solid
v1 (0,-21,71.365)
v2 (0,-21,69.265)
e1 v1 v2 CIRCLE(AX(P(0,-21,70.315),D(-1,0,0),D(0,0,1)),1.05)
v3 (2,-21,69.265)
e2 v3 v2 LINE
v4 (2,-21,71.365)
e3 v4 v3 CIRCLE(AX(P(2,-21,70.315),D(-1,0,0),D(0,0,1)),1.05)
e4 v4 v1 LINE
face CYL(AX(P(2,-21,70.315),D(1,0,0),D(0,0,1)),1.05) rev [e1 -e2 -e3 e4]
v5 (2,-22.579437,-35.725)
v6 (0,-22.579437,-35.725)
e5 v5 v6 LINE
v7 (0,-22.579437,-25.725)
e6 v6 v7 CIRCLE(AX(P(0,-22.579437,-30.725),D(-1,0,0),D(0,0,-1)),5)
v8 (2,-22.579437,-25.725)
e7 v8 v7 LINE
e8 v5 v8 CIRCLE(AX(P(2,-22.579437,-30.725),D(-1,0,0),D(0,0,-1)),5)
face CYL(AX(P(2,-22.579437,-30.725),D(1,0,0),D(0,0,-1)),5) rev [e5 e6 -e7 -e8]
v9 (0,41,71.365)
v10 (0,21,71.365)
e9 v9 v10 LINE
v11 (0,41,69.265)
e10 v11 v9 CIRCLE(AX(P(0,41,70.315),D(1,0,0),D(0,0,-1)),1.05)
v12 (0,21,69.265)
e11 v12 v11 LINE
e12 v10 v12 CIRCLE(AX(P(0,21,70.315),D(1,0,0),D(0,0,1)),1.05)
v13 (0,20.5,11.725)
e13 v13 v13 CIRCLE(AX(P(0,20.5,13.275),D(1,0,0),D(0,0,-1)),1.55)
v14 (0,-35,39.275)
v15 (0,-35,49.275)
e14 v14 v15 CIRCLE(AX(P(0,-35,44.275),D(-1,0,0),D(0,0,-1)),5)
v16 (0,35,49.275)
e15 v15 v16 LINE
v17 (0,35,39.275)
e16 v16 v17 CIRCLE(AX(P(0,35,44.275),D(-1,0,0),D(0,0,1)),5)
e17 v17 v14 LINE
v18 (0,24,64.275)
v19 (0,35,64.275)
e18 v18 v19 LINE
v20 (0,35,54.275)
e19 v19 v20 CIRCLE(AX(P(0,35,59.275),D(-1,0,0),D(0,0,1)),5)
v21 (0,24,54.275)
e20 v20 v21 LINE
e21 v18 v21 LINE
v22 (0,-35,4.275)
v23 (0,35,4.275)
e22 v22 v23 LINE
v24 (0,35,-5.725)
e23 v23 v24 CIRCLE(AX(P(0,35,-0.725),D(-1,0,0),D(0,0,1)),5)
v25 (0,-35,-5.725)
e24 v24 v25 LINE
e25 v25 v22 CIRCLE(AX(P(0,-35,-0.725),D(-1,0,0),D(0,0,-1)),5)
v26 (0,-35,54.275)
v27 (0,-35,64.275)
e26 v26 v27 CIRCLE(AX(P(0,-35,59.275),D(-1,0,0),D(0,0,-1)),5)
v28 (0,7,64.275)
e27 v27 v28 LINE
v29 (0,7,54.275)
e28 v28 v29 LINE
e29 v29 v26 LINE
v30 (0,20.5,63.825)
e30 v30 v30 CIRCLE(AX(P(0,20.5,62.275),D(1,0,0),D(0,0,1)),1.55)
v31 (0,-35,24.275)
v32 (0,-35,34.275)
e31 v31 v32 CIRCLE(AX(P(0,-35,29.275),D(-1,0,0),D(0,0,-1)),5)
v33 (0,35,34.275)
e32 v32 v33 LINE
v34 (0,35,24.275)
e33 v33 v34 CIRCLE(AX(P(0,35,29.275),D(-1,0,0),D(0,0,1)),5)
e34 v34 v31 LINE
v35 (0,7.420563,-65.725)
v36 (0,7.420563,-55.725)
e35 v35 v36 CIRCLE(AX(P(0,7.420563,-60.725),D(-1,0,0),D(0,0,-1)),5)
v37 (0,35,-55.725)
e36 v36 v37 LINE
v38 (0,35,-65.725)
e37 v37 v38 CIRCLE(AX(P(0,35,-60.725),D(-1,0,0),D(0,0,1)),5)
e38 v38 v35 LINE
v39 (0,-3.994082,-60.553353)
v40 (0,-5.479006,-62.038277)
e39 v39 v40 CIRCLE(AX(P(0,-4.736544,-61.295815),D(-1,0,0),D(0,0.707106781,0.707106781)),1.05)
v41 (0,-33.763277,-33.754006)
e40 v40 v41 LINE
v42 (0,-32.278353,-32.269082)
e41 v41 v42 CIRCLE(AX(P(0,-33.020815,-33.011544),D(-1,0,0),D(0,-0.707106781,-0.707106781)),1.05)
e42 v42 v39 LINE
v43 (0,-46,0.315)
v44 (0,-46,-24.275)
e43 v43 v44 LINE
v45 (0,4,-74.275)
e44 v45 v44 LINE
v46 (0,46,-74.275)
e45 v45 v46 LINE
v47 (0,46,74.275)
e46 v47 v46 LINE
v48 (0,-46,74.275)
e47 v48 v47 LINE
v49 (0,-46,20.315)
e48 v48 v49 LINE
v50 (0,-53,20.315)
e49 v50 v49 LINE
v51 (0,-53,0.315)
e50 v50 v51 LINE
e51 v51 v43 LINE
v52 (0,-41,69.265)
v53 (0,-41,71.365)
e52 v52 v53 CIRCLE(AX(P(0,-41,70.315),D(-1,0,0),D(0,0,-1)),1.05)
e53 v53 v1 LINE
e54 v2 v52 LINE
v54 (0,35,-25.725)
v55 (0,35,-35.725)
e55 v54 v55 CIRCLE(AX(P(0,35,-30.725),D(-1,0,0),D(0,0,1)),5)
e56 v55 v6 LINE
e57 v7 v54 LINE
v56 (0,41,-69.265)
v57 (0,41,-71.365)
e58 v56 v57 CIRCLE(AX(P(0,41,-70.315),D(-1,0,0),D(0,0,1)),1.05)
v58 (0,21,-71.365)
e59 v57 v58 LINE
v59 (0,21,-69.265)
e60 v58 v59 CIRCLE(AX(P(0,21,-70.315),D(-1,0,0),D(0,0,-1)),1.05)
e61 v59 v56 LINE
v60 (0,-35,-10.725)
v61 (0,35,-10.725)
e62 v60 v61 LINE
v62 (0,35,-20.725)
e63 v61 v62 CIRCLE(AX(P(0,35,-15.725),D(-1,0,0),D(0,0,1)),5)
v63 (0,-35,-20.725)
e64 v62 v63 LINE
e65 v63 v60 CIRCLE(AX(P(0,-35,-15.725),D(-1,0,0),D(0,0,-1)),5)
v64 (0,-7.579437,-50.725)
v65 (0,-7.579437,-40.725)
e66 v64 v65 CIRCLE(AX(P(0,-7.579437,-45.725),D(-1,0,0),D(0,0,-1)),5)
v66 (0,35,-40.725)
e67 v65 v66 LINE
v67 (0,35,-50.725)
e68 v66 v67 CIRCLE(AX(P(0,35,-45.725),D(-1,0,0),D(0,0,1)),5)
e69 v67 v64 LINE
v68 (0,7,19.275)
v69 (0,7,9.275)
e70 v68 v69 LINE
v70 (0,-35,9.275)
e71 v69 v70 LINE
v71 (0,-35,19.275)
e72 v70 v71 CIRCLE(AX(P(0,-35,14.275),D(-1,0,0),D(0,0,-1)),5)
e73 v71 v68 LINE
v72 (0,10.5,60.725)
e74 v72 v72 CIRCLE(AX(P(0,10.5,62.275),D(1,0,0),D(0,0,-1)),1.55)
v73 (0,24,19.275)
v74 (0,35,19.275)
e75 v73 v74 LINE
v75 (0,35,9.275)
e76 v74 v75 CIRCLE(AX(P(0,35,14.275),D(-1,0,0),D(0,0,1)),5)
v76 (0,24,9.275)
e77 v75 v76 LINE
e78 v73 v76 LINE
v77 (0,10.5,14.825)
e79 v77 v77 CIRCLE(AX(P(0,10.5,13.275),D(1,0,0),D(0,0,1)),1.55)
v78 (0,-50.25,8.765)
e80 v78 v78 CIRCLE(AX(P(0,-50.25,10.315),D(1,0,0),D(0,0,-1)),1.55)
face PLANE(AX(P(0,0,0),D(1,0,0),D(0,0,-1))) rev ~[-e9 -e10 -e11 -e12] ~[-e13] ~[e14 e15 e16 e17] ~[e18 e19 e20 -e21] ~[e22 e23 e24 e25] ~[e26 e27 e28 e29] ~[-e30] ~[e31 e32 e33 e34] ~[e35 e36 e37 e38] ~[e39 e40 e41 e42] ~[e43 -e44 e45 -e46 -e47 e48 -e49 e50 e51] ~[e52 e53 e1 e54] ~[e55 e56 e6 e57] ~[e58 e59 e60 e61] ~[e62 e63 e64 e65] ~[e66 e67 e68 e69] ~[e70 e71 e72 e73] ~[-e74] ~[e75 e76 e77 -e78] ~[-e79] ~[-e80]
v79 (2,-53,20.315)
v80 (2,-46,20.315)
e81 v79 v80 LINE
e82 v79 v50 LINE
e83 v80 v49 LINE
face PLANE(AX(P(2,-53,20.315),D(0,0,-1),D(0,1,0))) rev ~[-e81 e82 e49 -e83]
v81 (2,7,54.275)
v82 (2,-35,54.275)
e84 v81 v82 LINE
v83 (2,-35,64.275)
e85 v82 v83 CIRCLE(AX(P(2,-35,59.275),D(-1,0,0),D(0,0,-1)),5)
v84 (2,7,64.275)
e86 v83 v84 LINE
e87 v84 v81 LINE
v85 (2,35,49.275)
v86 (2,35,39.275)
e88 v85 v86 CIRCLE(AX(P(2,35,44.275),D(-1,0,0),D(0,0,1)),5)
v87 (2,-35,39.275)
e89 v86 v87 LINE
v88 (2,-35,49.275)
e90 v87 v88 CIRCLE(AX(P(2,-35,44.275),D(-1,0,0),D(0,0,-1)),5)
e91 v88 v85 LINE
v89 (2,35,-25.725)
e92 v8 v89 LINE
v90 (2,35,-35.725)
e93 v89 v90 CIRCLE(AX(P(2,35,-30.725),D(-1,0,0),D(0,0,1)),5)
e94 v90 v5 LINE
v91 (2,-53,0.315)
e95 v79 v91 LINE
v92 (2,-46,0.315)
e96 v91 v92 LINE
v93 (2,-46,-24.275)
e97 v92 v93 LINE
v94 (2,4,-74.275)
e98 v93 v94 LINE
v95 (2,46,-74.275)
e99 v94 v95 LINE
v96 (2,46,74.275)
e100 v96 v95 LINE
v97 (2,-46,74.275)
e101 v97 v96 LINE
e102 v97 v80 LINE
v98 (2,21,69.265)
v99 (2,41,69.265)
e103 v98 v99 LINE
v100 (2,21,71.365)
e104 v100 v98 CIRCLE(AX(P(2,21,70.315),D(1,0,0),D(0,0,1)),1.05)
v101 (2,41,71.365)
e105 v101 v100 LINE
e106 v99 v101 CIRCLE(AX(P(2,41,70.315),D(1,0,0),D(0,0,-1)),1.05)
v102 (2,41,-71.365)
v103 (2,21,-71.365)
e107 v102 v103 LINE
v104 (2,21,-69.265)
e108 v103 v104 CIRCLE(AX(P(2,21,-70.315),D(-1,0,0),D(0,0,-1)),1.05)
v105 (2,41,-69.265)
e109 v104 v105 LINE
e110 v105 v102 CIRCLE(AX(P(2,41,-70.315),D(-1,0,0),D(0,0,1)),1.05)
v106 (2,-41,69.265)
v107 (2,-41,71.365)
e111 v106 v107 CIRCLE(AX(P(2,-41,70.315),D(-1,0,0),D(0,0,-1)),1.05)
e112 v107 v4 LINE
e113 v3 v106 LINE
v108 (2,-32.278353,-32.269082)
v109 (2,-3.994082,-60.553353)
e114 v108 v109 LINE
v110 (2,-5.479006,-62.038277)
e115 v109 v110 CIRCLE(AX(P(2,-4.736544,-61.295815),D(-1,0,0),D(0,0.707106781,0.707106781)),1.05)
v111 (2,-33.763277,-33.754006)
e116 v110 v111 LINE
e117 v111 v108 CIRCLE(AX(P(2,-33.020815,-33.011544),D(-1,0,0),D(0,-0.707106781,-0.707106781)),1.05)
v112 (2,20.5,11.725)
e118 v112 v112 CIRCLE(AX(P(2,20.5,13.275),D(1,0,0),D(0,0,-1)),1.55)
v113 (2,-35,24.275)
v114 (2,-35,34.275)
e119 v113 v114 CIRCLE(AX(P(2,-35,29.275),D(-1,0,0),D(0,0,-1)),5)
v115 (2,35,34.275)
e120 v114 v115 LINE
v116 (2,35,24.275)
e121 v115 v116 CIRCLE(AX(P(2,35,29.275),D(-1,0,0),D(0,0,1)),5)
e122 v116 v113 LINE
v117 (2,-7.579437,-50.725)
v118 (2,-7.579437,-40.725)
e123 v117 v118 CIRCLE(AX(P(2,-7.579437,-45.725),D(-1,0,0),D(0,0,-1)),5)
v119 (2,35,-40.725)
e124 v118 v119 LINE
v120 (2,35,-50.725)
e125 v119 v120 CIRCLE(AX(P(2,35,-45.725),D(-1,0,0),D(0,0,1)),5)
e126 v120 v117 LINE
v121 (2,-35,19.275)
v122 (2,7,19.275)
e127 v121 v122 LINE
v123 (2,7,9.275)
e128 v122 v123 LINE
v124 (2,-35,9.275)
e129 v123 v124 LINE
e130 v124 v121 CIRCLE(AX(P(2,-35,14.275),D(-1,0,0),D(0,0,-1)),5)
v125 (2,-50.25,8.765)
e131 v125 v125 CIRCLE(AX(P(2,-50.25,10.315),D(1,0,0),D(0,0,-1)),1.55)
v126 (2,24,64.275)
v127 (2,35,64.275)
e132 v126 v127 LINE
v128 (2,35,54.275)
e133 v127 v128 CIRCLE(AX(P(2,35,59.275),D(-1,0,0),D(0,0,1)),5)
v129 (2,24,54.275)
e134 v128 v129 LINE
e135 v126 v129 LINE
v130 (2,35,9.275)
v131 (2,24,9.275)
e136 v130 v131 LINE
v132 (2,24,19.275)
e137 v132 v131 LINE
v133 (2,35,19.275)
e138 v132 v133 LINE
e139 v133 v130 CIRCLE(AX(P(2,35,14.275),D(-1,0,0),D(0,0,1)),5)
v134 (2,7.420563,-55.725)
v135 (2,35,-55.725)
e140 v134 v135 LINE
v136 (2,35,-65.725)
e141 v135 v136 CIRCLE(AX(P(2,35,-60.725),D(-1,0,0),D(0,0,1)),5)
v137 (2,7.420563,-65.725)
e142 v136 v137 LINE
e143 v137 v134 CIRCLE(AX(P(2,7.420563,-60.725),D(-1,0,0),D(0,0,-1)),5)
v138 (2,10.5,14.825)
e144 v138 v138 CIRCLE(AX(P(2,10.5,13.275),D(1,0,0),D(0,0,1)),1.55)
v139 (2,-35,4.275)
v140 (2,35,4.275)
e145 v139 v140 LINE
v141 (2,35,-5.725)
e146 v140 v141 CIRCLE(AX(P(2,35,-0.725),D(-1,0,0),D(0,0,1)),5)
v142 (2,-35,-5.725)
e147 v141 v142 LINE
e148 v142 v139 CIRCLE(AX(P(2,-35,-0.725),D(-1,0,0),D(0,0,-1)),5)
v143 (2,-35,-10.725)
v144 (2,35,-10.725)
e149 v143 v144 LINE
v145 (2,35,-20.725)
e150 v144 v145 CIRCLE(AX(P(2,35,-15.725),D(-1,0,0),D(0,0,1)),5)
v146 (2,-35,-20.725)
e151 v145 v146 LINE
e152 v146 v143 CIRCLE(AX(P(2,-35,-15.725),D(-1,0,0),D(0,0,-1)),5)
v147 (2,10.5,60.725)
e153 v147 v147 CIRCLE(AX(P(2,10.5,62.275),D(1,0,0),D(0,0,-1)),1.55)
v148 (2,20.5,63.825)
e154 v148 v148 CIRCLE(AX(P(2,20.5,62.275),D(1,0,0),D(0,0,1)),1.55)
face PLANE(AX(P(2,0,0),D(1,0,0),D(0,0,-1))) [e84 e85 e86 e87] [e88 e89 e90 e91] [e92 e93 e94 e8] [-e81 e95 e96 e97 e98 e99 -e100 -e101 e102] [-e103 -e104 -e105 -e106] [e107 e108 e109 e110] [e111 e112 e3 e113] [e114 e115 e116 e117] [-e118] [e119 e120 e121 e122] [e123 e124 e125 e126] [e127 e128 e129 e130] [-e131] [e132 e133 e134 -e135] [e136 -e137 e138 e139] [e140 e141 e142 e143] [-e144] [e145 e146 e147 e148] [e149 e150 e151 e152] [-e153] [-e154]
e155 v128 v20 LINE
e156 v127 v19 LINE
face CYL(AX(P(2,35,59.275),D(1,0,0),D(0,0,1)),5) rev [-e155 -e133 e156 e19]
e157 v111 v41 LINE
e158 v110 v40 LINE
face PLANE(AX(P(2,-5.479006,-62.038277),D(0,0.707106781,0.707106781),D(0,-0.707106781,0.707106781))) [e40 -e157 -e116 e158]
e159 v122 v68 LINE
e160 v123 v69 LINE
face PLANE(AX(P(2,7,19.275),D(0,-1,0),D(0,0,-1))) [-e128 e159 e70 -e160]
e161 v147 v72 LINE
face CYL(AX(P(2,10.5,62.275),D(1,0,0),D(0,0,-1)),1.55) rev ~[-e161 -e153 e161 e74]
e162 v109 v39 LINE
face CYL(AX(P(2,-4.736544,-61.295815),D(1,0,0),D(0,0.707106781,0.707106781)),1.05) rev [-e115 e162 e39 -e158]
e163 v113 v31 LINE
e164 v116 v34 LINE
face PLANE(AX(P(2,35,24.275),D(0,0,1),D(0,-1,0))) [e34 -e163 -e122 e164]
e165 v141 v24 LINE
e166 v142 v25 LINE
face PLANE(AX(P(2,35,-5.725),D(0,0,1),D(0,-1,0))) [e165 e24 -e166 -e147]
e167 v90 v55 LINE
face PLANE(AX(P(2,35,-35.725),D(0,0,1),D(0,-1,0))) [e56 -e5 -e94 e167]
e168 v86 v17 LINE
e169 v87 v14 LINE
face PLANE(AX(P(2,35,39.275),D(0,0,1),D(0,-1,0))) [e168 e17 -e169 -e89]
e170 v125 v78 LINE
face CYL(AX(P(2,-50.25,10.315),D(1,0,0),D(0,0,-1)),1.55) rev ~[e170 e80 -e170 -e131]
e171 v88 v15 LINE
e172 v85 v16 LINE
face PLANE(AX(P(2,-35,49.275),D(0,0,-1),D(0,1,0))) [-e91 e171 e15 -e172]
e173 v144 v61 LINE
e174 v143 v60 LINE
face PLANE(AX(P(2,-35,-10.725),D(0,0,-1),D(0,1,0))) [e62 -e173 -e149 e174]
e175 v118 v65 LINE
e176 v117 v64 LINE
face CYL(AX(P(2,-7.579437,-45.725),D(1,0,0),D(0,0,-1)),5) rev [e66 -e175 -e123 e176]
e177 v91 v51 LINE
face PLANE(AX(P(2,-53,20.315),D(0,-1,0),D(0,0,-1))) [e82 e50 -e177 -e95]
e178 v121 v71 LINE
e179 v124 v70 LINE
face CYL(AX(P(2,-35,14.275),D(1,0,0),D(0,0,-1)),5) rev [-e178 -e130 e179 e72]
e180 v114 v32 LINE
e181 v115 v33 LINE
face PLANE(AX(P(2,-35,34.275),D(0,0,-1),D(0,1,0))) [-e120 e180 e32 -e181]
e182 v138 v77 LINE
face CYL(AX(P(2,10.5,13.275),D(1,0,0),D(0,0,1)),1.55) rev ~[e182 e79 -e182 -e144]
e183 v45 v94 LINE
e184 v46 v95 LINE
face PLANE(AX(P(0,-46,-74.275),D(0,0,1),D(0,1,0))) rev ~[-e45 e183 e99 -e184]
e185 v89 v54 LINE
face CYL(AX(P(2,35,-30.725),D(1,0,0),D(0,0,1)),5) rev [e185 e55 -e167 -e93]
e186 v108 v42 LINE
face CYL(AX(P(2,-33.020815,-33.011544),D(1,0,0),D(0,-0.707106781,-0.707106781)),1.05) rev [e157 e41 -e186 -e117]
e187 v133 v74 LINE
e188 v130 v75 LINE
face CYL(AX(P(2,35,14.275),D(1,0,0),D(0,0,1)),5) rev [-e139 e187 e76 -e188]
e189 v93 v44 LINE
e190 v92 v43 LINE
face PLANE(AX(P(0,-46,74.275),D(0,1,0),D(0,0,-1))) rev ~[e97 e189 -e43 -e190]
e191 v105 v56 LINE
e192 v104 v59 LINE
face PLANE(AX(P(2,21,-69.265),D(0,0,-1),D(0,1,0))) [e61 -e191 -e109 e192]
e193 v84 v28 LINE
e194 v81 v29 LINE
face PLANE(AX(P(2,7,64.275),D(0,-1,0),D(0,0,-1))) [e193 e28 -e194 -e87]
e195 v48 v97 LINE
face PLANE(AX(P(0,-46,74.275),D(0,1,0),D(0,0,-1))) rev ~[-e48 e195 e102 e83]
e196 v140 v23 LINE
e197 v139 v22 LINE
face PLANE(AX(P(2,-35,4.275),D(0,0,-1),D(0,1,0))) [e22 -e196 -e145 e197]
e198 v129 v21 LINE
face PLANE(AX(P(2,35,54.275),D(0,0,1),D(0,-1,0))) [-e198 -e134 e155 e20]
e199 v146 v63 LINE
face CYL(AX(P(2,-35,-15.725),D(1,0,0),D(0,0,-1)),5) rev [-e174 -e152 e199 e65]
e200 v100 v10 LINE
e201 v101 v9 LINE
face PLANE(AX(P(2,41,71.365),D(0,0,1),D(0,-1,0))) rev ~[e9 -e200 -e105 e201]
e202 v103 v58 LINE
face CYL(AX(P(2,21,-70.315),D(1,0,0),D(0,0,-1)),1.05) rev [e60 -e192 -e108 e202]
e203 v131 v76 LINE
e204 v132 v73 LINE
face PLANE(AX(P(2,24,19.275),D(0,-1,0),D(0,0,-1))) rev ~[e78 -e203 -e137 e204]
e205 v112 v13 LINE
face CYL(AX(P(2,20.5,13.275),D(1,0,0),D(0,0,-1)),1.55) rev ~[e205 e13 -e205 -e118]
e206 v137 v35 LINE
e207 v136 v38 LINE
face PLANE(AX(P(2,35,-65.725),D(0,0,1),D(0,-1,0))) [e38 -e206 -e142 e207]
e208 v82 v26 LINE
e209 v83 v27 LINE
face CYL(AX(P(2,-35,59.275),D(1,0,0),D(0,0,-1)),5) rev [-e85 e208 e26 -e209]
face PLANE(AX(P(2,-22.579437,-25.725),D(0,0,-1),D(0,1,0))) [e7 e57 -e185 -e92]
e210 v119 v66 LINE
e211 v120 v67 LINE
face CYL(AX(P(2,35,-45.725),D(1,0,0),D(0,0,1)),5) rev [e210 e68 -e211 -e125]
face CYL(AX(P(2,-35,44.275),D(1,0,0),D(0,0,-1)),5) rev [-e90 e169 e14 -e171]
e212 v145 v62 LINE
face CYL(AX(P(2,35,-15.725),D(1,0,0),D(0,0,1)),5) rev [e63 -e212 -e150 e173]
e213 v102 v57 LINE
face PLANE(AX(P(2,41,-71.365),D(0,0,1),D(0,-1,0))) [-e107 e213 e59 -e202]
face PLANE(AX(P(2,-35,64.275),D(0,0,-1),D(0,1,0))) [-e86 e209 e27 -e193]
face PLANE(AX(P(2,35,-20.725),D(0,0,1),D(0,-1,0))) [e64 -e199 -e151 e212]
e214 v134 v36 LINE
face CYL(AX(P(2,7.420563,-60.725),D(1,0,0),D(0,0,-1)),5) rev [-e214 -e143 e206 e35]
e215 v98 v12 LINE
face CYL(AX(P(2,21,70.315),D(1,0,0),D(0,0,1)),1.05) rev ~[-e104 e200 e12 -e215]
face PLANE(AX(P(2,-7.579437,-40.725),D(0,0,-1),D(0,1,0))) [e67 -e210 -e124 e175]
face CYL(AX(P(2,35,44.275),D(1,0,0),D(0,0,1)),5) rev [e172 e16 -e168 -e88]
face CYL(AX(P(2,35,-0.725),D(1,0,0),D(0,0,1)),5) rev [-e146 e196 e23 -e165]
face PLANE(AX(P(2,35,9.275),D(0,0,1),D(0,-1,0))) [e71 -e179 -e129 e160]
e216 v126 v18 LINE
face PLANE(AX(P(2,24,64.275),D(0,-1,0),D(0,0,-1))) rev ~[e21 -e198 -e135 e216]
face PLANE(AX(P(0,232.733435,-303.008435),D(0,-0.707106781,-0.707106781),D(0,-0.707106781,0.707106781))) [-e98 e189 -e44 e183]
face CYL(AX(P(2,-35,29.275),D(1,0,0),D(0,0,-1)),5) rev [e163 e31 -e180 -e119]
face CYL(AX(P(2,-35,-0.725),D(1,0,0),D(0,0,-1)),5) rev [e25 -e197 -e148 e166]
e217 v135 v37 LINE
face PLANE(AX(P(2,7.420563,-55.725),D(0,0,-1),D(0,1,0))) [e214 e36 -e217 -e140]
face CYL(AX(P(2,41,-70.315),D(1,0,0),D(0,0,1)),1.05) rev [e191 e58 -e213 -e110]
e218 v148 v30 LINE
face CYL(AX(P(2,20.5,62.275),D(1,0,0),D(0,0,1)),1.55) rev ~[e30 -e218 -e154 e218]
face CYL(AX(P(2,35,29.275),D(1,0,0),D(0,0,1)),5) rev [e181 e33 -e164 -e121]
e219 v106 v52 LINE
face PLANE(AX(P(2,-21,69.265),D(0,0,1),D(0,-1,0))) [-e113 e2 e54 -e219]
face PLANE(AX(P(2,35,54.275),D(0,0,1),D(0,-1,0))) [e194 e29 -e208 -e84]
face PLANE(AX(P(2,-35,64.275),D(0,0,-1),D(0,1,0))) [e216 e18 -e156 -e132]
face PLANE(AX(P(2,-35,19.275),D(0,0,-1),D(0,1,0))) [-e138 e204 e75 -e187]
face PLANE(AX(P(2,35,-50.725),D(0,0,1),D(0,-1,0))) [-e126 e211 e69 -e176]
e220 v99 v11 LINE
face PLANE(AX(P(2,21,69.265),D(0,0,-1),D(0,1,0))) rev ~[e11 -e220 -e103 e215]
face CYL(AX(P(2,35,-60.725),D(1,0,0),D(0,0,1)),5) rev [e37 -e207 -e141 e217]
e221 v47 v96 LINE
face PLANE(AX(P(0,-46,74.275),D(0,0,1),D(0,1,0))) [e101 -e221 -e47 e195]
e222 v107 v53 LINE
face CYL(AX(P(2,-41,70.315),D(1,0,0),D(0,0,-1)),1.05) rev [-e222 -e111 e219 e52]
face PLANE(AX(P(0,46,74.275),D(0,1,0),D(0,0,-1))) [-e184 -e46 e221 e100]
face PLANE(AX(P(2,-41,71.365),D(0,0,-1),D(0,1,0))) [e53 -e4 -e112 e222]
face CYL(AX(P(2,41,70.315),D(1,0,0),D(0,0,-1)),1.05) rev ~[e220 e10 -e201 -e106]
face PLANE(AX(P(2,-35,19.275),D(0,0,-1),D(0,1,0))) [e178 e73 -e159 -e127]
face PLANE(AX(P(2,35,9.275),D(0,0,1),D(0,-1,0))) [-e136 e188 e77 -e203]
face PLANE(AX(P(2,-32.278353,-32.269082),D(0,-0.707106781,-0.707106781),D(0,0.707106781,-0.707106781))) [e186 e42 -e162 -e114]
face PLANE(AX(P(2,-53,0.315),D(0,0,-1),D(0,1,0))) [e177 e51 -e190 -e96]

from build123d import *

# Parameters (mm, degrees)
SKETCH_2_W               = 148.55
SKETCH_2_H               = 92
EXTRUDE_1_DEPTH          = 2
CUT_EXTRUDE_1_DEPTH      = 88.388647003
CUT_EXTRUDE_1_DEPTH_BACK = 2
CUT_EXTRUDE_2_DEPTH      = 2
SKETCH_5_W               = 20
SKETCH_5_H               = 7
SKETCH_5_R               = 1.55
EXTRUDE_2_DEPTH          = 2
CUT_EXTRUDE_3_DEPTH      = 2
SKETCH_8_W               = 10
SKETCH_8_H               = 17
EXTRUDE_3_DEPTH          = 2
SKETCH_7_R               = 1.55
CUT_EXTRUDE_4_DEPTH      = 2
CUT_EXTRUDE_5_DEPTH      = 2


with BuildPart() as part:
    # 草图2 → 凸台-拉伸1 (new body)
    with BuildSketch(Plane(origin=(0, 0, 0), x_dir=(0, 0, -1), z_dir=(1, 0, 0))):
        Rectangle(SKETCH_2_W, SKETCH_2_H)
    extrude(amount=EXTRUDE_1_DEPTH)

    # 草图3 → 切除-拉伸1 (cut, two sides: drawn at the far end of the back side and taken through both)
    with BuildSketch(Plane(origin=(2, 0, 0), x_dir=(0, 0, -1), z_dir=(1, 0, 0)).offset(-CUT_EXTRUDE_1_DEPTH_BACK)):
        Polygon((-204.458434938, -274.733434938), (24.275, -46), (74.275, 4), (303.008434938, 232.733434938), (760.475304814, -224.733434938), (253.008434938, -732.200304814), align=None)
    extrude(amount=CUT_EXTRUDE_1_DEPTH + CUT_EXTRUDE_1_DEPTH_BACK, mode=Mode.SUBTRACT)

    # 草图4 → 切除-拉伸2 (cut)
    with BuildSketch(Plane(origin=(2, 0, 0), x_dir=(0, 0, -1), z_dir=(1, 0, 0))):
        with BuildLine():
            Line((-71.365, -41), (-71.365, -21))
            ThreePointArc((-71.365, -21), (-70.315, -19.95), (-69.265, -21))
            Line((-69.265, -21), (-69.265, -41))
            ThreePointArc((-69.265, -41), (-70.315, -42.05), (-71.365, -41))
        make_face()
        with BuildLine():
            Line((-71.365, 41), (-71.365, 21))
            ThreePointArc((-71.365, 21), (-70.315, 19.95), (-69.265, 21))
            Line((-69.265, 21), (-69.265, 41))
            ThreePointArc((-69.265, 41), (-70.315, 42.05), (-71.365, 41))
        make_face()
        with BuildLine():
            Line((71.365, 41), (71.365, 21))
            ThreePointArc((71.365, 21), (70.315, 19.95), (69.265, 21))
            Line((69.265, 21), (69.265, 41))
            ThreePointArc((69.265, 41), (70.315, 42.05), (71.365, 41))
        make_face()
    extrude(amount=-CUT_EXTRUDE_2_DEPTH, mode=Mode.SUBTRACT)

    # 草图5 → 凸台-拉伸2 (add)
    with BuildSketch(Plane(origin=(2, 0, 0), x_dir=(0, 0, -1), z_dir=(1, 0, 0))):
        with Locations((-10.315, -49.5)):
            Rectangle(SKETCH_5_W, SKETCH_5_H)
        with Locations((-10.315, -50.25)):
            Circle(SKETCH_5_R, mode=Mode.SUBTRACT)
    extrude(amount=-EXTRUDE_2_DEPTH)

    # 草图6 → 切除-拉伸3 (cut)
    with BuildSketch(Plane(origin=(2, 0, 0), x_dir=(0, 0, -1), z_dir=(1, 0, 0))):
        with BuildLine():
            Line((-64.275, -35), (-64.275, 35))
            ThreePointArc((-64.275, 35), (-59.275, 40), (-54.275, 35))
            Line((-54.275, 35), (-54.275, -35))
            ThreePointArc((-54.275, -35), (-59.275, -40), (-64.275, -35))
        make_face()
        with BuildLine():
            Line((-49.275, -35), (-49.275, 35))
            ThreePointArc((-49.275, 35), (-44.275, 40), (-39.275, 35))
            Line((-39.275, 35), (-39.275, -35))
            ThreePointArc((-39.275, -35), (-44.275, -40), (-49.275, -35))
        make_face()
        with BuildLine():
            Line((-34.275, -35), (-34.275, 35))
            ThreePointArc((-34.275, 35), (-29.275, 40), (-24.275, 35))
            Line((-24.275, 35), (-24.275, -35))
            ThreePointArc((-24.275, -35), (-29.275, -40), (-34.275, -35))
        make_face()
        with BuildLine():
            Line((-19.275, -35), (-19.275, 35))
            ThreePointArc((-19.275, 35), (-14.275, 40), (-9.275, 35))
            Line((-9.275, 35), (-9.275, -35))
            ThreePointArc((-9.275, -35), (-14.275, -40), (-19.275, -35))
        make_face()
        with BuildLine():
            Line((-4.275, -35), (-4.275, 35))
            ThreePointArc((-4.275, 35), (0.725, 40), (5.725, 35))
            Line((5.725, 35), (5.725, -35))
            ThreePointArc((5.725, -35), (0.725, -40), (-4.275, -35))
        make_face()
        with BuildLine():
            Line((10.725, -35), (10.725, 35))
            ThreePointArc((10.725, 35), (15.725, 40), (20.725, 35))
            Line((20.725, 35), (20.725, -35))
            ThreePointArc((20.725, -35), (15.725, -40), (10.725, -35))
        make_face()
        with BuildLine():
            Line((25.725, -22.579437252), (25.725, 35))
            ThreePointArc((25.725, 35), (30.725, 40), (35.725, 35))
            Line((35.725, 35), (35.725, -22.579437252))
            ThreePointArc((35.725, -22.579437252), (30.725, -27.579437252), (25.725, -22.579437252))
        make_face()
        with BuildLine():
            Line((40.725, -7.579437252), (40.725, 35))
            ThreePointArc((40.725, 35), (45.725, 40), (50.725, 35))
            Line((50.725, 35), (50.725, -7.579437252))
            ThreePointArc((50.725, -7.579437252), (45.725, -12.579437252), (40.725, -7.579437252))
        make_face()
        with BuildLine():
            Line((55.725, 7.420562748), (55.725, 35))
            ThreePointArc((55.725, 35), (60.725, 40), (65.725, 35))
            Line((65.725, 35), (65.725, 7.420562748))
            ThreePointArc((65.725, 7.420562748), (60.725, 2.420562748), (55.725, 7.420562748))
        make_face()
    extrude(amount=-CUT_EXTRUDE_3_DEPTH, mode=Mode.SUBTRACT)

    # 草图8 → 凸台-拉伸3 (add)
    with BuildSketch(Plane(origin=(2, 0, 0), x_dir=(0, 0, -1), z_dir=(1, 0, 0))):
        with Locations((-59.275, 15.5)):
            Rectangle(SKETCH_8_W, SKETCH_8_H)
        with Locations((-14.275, 15.5)):
            Rectangle(SKETCH_8_W, SKETCH_8_H)
    extrude(amount=-EXTRUDE_3_DEPTH)

    # 草图7 → 切除-拉伸4 (cut)
    with BuildSketch(Plane(origin=(2, 0, 0), x_dir=(0, 0, -1), z_dir=(1, 0, 0))):
        with Locations((-62.275, 10.5)):
            Circle(SKETCH_7_R)
        with Locations(Location((-13.275, 10.5, 0), (0, 0, 180))):
            Circle(SKETCH_7_R)
        with Locations((-13.275, 20.5)):
            Circle(SKETCH_7_R)
        with Locations(Location((-62.275, 20.5, 0), (0, 0, 180))):
            Circle(SKETCH_7_R)
    extrude(amount=-CUT_EXTRUDE_4_DEPTH, mode=Mode.SUBTRACT)

    # 草图9 → 切除-拉伸5 (cut)
    with BuildSketch(Plane(origin=(2, 0, 0), x_dir=(0, 0, -1), z_dir=(1, 0, 0))):
        with BuildLine():
            Line((32.269081912, -32.27835316), (60.55335316, -3.994081912))
            ThreePointArc((60.55335316, -3.994081912), (62.0382774, -3.994081912), (62.0382774, -5.479006153))
            Line((62.0382774, -5.479006153), (33.754006153, -33.7632774))
            ThreePointArc((33.754006153, -33.7632774), (32.269081912, -33.7632774), (32.269081912, -32.27835316))
        make_face()
    extrude(amount=-CUT_EXTRUDE_5_DEPTH, mode=Mode.SUBTRACT)


solid = part.part
